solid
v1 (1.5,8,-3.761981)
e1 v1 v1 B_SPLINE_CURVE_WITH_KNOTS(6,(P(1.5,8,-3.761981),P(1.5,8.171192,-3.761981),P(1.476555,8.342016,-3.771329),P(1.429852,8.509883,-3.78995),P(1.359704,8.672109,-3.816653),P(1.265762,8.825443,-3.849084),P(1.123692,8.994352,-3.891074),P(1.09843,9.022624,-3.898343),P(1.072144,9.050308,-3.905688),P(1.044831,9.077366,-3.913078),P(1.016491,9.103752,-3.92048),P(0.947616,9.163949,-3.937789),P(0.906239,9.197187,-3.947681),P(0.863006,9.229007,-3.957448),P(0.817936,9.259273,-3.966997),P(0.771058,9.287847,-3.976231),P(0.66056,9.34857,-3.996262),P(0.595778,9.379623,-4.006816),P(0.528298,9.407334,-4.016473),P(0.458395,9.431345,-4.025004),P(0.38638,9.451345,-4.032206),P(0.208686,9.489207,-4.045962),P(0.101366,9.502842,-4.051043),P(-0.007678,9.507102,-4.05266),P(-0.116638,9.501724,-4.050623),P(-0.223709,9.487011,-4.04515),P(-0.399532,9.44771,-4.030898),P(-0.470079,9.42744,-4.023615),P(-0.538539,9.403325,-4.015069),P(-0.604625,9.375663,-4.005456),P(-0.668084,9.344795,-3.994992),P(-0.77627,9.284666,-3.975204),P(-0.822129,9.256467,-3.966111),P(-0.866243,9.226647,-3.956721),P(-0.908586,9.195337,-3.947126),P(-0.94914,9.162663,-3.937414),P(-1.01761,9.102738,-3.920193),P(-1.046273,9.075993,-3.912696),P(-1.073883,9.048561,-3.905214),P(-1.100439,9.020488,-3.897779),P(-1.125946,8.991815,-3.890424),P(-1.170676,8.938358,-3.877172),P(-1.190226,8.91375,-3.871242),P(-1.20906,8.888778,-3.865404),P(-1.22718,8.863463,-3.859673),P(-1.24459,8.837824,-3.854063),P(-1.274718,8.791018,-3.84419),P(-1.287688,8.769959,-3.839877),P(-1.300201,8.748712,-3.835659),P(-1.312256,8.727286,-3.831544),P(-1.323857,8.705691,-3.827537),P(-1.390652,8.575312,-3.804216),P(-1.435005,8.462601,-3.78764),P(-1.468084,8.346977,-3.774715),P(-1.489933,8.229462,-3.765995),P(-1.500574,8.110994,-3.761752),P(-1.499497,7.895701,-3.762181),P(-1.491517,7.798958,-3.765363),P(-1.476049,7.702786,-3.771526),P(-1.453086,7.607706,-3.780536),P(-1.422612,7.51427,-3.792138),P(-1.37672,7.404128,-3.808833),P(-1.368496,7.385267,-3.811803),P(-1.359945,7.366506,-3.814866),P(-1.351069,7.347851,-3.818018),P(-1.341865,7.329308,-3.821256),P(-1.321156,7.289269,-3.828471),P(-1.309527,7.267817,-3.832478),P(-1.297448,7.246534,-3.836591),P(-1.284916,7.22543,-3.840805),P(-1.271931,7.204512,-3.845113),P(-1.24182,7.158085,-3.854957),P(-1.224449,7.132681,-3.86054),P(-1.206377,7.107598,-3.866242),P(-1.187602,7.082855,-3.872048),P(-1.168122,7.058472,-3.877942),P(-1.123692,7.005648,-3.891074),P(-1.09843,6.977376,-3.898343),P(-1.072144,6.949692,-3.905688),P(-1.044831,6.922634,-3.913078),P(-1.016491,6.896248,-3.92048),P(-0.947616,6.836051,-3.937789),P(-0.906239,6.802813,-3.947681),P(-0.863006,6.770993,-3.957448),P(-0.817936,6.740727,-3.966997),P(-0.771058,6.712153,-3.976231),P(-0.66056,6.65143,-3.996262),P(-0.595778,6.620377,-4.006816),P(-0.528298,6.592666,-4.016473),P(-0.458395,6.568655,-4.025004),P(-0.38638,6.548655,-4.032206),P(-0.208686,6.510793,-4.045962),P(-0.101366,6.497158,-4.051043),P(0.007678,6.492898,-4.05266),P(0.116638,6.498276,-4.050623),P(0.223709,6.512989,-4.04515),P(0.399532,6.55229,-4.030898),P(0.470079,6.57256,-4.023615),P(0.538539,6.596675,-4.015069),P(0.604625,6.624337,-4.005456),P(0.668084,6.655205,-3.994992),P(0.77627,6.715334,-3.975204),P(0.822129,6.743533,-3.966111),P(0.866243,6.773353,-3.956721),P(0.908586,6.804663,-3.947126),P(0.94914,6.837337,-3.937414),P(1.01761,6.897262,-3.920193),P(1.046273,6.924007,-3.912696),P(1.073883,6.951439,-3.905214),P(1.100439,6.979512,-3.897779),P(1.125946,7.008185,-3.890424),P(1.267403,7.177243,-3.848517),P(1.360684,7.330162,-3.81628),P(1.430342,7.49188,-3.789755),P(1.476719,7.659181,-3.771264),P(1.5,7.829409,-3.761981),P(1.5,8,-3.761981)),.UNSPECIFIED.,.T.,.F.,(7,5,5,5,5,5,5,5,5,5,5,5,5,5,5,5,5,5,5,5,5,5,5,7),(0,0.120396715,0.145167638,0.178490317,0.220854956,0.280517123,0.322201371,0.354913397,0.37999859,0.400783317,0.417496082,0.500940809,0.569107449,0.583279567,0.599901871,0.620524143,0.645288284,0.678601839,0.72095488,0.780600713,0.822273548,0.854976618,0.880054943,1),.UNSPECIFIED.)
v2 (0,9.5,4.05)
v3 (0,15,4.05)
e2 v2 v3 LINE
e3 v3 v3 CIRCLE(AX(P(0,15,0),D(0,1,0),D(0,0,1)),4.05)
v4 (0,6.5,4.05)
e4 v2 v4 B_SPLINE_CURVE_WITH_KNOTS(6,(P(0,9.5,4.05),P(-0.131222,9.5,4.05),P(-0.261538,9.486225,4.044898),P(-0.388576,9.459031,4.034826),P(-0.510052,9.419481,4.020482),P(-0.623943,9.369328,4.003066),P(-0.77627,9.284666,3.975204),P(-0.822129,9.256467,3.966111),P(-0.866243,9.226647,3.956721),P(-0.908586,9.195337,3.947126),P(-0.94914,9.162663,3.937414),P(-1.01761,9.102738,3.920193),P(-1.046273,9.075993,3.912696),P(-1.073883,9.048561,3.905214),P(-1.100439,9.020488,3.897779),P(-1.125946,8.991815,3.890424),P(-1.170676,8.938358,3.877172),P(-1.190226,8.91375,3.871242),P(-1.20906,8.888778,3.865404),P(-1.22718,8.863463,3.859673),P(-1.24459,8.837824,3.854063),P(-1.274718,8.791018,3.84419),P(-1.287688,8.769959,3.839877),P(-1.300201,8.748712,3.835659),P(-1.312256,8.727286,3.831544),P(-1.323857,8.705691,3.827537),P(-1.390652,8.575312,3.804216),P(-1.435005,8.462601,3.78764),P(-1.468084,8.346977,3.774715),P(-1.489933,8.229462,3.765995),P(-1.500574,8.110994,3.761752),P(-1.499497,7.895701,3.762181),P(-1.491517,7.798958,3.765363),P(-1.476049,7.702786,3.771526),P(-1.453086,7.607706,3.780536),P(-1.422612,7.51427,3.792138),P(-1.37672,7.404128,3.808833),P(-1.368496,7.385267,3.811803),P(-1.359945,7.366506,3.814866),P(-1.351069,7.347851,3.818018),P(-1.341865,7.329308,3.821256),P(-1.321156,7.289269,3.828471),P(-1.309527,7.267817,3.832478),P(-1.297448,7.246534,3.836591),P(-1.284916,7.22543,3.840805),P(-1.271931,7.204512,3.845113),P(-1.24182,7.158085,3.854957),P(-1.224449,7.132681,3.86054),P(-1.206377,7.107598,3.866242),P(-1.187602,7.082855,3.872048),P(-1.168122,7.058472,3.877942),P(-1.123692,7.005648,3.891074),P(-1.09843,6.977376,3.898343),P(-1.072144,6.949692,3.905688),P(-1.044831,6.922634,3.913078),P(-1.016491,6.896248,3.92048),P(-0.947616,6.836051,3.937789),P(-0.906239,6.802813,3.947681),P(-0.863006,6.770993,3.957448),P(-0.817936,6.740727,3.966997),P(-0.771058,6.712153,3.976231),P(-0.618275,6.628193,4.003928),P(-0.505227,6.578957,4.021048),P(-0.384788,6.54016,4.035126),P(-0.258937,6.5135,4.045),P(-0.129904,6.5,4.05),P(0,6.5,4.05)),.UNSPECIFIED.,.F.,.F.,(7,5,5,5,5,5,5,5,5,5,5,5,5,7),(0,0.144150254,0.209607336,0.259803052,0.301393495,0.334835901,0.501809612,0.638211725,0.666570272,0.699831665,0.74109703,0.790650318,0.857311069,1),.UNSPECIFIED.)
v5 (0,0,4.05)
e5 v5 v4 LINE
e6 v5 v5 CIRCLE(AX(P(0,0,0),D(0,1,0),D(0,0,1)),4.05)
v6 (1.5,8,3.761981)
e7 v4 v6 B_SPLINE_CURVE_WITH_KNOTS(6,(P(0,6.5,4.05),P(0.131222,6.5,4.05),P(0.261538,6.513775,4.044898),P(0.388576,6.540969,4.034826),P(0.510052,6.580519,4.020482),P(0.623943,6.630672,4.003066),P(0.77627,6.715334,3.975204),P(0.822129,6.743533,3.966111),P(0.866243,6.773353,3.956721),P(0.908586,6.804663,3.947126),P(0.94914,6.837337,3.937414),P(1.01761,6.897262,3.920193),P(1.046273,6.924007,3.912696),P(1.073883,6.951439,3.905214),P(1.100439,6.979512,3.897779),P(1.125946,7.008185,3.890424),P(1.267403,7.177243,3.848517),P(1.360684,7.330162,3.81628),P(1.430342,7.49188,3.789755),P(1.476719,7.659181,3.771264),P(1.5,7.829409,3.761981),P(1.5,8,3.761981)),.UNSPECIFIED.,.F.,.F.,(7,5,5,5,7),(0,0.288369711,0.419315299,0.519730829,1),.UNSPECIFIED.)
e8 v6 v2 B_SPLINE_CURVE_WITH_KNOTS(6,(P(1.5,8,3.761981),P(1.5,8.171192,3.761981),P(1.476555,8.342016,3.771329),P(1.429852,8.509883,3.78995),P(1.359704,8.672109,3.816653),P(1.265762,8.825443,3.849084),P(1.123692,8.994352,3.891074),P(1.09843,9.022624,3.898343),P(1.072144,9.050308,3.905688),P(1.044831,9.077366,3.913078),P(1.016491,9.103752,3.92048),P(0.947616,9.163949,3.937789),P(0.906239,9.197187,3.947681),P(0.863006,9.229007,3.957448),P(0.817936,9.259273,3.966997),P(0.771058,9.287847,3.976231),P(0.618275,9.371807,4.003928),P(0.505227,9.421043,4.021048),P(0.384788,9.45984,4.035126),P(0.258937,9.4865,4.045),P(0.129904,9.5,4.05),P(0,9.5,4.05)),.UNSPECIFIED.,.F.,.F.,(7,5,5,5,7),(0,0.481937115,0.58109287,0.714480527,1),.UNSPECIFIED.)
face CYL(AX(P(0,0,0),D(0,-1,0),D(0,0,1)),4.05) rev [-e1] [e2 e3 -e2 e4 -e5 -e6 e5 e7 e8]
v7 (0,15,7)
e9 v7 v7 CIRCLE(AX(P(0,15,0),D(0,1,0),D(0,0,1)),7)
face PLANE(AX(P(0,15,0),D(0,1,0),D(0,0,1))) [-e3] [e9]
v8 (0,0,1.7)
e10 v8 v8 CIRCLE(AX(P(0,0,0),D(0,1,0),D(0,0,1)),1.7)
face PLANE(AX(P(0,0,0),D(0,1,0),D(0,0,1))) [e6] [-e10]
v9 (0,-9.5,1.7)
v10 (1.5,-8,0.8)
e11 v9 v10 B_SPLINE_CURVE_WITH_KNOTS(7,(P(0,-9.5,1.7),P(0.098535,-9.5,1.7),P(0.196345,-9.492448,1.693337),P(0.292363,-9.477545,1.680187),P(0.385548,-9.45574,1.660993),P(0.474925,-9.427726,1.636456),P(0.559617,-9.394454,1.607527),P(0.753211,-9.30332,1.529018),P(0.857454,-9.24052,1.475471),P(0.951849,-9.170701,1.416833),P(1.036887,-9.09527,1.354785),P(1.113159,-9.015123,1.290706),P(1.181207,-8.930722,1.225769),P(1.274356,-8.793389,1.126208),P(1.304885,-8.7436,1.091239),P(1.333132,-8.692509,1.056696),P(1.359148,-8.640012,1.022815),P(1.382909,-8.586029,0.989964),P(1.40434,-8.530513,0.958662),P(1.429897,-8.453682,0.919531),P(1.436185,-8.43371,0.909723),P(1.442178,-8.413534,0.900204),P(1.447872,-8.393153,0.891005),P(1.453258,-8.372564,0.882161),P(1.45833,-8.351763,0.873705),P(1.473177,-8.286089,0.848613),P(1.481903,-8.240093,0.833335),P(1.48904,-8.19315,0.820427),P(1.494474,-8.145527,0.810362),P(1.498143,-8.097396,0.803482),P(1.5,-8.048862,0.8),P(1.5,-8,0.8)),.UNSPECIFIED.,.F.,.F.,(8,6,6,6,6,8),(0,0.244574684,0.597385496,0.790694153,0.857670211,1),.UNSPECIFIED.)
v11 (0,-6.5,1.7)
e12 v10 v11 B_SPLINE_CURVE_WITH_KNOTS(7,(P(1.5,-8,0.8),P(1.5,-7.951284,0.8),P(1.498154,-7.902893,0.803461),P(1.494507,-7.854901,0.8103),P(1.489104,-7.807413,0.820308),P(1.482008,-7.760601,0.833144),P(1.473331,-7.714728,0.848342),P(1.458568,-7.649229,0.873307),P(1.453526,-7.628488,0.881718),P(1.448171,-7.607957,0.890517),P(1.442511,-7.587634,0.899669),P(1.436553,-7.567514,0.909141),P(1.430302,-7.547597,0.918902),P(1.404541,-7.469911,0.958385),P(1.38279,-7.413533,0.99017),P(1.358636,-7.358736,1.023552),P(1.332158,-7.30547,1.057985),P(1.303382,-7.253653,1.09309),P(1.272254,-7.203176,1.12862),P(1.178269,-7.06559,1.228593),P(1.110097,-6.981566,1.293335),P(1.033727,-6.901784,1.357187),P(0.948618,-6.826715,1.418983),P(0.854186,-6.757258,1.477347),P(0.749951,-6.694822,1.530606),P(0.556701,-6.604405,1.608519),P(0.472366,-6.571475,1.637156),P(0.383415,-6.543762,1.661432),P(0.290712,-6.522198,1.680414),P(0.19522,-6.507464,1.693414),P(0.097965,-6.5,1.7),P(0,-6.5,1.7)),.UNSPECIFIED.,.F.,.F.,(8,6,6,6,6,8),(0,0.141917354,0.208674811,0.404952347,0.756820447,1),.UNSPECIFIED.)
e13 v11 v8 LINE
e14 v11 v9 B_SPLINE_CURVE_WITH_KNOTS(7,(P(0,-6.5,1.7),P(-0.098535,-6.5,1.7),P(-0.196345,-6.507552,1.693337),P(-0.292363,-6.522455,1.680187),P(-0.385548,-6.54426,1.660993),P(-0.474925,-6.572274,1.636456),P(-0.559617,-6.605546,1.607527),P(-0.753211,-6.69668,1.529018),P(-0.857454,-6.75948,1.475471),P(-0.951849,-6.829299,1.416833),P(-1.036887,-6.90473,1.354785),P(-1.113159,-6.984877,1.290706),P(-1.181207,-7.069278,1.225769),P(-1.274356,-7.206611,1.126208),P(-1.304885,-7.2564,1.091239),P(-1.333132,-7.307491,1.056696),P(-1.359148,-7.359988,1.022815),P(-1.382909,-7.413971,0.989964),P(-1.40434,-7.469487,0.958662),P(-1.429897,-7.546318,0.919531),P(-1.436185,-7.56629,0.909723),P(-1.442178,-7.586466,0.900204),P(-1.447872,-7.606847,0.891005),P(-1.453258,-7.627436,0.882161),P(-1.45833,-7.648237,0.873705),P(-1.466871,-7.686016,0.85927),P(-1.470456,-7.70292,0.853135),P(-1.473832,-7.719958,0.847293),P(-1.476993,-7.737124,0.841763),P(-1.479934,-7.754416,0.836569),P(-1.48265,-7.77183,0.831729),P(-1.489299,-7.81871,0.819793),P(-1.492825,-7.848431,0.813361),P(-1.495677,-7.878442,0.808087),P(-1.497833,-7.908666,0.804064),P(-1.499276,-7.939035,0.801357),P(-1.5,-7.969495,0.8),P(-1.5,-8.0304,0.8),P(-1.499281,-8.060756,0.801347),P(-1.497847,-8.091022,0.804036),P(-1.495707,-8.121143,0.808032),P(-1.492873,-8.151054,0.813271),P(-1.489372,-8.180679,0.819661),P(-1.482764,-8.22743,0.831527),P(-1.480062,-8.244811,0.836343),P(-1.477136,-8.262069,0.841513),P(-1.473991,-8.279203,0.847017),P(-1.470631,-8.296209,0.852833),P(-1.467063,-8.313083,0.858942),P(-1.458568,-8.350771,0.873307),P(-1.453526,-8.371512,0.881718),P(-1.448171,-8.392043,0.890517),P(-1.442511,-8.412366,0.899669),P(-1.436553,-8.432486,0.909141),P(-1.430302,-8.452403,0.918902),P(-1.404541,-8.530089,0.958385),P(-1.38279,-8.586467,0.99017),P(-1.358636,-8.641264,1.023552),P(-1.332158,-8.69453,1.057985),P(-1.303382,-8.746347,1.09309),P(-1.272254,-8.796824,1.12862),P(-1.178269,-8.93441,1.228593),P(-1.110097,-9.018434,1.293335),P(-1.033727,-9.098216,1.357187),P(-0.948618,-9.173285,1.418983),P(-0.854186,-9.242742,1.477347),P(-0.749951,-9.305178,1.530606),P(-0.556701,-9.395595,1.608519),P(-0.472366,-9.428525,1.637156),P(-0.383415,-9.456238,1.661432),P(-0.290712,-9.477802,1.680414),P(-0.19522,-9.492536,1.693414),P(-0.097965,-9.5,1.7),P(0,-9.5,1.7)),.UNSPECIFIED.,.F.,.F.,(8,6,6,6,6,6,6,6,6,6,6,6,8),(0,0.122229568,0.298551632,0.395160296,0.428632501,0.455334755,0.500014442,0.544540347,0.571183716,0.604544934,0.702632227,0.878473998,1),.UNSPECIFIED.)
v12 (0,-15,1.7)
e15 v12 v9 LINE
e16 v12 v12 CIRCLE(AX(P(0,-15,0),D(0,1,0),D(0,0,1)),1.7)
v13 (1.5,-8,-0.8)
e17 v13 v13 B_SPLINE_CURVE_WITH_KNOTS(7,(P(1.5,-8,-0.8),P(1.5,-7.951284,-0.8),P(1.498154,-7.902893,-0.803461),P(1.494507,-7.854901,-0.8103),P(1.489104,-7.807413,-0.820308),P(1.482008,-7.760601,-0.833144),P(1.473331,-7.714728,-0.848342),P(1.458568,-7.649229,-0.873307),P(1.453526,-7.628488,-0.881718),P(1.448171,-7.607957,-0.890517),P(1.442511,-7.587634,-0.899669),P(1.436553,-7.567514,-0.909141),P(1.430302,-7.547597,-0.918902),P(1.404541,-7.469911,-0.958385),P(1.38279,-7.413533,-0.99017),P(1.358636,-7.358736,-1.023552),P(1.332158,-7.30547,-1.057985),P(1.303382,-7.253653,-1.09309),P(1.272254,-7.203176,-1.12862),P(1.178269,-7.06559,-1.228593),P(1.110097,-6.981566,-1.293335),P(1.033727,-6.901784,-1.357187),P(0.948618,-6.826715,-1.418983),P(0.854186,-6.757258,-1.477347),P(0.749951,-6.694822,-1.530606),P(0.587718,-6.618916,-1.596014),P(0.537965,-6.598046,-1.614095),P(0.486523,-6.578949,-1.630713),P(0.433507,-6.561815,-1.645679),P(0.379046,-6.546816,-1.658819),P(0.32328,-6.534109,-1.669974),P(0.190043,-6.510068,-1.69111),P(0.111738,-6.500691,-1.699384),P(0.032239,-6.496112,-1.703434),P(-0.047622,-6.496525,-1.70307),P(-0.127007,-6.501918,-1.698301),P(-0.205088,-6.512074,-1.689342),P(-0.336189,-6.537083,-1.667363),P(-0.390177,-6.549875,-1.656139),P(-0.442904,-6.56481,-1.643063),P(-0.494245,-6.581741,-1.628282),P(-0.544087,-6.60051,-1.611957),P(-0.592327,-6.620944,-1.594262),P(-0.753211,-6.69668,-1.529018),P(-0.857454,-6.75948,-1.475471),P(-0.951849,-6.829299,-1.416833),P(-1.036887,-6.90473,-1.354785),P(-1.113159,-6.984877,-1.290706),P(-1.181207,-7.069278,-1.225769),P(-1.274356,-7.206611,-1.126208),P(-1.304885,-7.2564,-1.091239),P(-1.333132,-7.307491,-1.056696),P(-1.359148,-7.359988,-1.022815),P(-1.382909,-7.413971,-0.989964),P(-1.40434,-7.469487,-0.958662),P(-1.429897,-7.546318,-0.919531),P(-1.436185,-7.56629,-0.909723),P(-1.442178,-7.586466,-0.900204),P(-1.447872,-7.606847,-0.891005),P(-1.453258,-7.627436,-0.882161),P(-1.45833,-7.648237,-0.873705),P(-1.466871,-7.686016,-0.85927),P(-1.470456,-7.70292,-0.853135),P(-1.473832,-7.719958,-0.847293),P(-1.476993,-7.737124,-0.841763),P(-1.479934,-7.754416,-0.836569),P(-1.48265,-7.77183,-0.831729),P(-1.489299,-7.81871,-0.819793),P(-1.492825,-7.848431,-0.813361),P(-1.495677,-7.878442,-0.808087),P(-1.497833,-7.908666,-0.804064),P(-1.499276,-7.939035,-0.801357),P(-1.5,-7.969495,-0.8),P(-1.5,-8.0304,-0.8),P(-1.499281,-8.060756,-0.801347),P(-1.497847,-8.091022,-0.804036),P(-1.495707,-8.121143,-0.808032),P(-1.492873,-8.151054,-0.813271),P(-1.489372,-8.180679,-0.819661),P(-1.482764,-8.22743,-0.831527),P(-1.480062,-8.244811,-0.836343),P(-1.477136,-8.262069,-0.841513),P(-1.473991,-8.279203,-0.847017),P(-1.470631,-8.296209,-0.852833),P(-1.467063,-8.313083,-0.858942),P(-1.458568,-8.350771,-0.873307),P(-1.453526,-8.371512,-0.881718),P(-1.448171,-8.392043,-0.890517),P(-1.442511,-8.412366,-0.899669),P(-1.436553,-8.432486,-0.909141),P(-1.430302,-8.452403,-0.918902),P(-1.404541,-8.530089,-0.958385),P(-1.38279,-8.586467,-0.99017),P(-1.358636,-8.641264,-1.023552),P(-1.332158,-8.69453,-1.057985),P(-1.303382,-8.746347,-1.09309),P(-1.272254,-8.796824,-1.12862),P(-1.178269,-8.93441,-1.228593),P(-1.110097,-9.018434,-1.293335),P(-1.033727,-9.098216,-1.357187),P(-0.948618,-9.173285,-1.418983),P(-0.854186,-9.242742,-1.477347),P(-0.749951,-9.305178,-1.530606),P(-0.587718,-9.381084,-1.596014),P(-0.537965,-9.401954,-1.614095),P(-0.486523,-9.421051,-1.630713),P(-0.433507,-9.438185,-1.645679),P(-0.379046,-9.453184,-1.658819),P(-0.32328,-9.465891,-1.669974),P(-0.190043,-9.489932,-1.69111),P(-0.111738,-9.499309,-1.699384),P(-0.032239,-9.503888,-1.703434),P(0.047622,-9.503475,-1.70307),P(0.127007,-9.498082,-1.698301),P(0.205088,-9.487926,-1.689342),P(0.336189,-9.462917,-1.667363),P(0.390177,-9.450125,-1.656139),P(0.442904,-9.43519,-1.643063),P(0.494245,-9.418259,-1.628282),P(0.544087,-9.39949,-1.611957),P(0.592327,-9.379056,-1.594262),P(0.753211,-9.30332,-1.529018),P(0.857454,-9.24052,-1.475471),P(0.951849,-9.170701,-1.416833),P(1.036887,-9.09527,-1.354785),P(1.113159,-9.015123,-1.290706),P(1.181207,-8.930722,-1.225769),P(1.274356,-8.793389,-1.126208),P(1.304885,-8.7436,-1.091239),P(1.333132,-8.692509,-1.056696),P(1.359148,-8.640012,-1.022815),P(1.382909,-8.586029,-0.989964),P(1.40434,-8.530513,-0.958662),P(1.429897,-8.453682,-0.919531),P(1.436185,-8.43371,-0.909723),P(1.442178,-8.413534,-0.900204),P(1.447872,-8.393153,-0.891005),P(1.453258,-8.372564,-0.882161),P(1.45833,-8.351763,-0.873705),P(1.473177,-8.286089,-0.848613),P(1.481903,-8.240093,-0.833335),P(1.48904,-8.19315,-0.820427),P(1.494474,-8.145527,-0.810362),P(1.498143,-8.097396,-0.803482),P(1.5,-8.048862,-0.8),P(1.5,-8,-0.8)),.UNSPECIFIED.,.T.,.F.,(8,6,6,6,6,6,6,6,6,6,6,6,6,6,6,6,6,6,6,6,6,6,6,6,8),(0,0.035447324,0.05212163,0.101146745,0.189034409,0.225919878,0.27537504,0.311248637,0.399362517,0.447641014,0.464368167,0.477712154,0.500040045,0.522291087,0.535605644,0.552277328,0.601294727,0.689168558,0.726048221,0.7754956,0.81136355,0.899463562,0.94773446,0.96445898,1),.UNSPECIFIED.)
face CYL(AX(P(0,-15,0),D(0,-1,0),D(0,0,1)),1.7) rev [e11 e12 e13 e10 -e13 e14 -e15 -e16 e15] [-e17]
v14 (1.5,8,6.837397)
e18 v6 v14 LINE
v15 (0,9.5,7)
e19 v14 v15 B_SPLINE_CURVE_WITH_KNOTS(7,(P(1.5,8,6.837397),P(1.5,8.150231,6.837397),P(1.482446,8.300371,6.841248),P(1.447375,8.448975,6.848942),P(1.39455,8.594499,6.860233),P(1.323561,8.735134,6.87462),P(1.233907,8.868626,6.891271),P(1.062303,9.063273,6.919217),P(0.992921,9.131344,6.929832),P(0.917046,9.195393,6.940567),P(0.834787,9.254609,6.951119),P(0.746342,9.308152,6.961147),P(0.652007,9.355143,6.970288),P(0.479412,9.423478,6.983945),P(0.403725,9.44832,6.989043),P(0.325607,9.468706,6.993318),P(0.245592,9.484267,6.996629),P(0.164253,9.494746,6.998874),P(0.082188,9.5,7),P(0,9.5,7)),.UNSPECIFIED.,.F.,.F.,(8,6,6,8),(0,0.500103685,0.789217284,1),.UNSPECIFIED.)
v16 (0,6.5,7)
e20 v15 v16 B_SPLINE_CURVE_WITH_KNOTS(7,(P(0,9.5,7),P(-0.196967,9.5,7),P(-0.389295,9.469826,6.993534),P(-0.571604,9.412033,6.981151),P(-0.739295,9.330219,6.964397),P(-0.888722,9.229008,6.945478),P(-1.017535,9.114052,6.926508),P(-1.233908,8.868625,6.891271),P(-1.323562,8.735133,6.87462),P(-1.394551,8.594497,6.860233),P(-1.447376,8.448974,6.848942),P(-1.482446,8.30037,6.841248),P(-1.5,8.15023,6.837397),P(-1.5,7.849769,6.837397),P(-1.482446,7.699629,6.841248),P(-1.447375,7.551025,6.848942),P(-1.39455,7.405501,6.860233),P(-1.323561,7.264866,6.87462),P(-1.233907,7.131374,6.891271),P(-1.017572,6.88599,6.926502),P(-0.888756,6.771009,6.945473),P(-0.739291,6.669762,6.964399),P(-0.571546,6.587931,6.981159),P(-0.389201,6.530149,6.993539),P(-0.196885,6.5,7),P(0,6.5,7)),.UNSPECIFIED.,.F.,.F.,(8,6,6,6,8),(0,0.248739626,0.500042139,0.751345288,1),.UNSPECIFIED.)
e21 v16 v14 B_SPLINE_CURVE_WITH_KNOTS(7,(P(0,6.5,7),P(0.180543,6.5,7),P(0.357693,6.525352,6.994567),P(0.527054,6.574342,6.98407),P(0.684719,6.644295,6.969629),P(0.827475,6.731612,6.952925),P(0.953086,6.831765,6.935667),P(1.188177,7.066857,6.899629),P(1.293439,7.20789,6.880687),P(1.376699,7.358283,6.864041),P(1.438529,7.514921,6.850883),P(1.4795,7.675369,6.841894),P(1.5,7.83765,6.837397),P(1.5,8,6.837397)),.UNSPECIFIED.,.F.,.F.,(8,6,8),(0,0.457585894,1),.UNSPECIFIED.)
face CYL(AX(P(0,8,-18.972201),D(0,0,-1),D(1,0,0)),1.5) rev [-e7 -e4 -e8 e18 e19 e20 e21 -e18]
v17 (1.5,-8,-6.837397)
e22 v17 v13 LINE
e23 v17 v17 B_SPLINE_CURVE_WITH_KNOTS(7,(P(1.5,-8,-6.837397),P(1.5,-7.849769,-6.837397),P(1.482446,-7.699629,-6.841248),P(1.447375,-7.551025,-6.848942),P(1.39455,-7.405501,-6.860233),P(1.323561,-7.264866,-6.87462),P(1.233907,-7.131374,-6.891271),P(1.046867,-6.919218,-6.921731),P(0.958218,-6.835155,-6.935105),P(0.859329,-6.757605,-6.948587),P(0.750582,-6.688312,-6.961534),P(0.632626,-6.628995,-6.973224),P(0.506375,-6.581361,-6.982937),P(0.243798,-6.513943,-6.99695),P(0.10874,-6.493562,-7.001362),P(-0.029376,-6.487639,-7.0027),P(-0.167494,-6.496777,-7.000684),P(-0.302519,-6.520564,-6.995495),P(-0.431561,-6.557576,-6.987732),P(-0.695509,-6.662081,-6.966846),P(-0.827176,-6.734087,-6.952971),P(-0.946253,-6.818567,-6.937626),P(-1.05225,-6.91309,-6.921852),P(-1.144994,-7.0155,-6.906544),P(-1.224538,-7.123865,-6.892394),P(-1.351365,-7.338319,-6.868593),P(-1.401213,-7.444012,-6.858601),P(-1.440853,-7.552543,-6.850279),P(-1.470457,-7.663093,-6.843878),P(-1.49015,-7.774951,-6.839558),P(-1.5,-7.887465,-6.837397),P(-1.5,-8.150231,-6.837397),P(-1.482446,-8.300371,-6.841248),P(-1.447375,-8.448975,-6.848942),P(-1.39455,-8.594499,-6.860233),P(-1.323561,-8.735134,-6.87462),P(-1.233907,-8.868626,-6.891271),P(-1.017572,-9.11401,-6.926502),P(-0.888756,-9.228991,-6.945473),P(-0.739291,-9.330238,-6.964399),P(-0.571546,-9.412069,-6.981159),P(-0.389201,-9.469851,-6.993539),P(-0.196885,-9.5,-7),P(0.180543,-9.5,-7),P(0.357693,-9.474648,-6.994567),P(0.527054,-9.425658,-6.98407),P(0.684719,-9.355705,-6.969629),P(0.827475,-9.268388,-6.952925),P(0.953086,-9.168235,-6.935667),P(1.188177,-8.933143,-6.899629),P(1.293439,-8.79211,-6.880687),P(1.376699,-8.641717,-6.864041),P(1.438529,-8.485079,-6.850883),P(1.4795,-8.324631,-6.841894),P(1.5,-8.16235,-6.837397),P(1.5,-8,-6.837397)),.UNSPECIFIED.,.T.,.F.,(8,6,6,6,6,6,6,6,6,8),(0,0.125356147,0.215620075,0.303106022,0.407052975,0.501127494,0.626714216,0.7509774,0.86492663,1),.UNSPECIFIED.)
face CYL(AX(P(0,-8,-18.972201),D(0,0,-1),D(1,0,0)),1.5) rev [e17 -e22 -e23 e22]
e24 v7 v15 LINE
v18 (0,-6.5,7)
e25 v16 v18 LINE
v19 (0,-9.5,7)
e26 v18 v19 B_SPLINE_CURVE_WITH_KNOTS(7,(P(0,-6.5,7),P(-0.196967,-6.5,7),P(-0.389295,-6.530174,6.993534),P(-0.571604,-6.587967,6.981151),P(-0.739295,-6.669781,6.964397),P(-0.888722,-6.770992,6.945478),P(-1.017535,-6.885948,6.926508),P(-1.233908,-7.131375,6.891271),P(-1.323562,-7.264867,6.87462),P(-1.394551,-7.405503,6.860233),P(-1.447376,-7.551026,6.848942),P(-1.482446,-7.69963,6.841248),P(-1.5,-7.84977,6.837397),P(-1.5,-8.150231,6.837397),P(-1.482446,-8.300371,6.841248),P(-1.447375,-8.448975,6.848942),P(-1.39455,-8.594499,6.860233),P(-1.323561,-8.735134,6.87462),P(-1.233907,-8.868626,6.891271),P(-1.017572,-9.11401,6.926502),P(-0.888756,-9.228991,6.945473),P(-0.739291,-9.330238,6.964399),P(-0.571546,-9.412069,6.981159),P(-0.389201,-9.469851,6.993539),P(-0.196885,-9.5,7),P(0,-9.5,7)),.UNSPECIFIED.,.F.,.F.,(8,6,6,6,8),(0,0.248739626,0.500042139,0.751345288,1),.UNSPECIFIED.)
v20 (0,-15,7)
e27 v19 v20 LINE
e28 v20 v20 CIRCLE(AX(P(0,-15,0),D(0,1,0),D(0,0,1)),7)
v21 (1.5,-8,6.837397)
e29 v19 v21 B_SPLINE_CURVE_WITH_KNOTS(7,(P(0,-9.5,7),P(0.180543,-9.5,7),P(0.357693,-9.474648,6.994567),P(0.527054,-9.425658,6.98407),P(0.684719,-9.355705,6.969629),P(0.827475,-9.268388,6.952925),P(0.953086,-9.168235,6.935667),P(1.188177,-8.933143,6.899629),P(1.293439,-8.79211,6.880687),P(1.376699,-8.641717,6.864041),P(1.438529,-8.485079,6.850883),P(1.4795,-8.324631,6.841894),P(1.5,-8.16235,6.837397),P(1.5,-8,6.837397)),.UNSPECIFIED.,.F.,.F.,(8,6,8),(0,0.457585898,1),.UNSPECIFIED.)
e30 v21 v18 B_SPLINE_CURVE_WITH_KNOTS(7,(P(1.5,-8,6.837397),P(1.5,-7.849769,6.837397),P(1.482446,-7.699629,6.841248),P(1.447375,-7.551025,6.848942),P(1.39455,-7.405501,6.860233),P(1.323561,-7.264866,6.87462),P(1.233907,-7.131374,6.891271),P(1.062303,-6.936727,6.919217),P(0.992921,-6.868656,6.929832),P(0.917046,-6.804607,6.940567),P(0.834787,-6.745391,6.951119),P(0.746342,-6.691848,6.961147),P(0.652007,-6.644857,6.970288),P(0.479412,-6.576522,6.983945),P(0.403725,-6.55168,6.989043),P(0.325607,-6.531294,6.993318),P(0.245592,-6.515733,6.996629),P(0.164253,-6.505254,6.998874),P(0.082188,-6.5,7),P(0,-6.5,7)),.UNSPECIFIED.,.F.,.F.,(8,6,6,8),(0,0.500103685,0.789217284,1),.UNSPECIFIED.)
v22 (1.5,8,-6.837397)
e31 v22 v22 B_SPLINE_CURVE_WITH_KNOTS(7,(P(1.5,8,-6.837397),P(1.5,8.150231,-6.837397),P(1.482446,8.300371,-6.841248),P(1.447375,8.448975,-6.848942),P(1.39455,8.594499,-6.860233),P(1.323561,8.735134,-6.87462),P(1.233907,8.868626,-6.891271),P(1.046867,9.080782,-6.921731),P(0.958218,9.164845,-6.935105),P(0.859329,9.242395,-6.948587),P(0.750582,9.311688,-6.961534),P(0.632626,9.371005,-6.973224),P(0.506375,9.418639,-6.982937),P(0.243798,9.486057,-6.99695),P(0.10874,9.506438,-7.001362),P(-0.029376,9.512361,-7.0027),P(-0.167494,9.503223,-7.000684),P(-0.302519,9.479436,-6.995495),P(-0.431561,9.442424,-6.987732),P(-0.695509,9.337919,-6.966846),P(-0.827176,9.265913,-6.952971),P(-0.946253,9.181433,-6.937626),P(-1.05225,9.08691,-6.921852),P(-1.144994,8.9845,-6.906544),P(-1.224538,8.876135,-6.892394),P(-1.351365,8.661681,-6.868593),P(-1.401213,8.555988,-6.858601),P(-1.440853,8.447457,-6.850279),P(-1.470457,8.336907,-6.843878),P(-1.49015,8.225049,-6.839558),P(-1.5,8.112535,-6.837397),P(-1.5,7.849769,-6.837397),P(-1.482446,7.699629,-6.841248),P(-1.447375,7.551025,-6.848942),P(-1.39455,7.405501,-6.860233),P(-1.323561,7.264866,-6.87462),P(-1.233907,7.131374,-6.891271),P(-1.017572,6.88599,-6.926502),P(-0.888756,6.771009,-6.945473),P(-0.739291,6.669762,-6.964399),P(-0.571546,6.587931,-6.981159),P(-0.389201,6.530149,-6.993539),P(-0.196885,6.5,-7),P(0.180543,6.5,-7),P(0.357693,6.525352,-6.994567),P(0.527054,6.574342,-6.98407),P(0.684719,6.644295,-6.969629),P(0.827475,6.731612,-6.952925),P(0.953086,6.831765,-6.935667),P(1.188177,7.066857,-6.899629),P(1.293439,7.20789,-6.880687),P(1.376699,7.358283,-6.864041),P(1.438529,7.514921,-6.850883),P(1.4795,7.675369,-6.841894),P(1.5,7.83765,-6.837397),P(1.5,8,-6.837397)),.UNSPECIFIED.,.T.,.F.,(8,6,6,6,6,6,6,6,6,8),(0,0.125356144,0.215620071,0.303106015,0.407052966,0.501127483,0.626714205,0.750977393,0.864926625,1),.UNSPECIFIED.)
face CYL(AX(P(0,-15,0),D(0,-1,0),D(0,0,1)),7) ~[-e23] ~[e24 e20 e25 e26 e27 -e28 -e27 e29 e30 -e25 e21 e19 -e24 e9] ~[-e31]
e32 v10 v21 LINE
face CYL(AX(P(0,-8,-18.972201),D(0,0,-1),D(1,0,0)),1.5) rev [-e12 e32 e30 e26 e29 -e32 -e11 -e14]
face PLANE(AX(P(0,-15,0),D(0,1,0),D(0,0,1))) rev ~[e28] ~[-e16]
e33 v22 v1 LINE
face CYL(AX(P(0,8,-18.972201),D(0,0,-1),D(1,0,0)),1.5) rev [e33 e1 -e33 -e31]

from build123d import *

# Parameters (mm, degrees)
SKETCH1_R               = 7
SKETCH1_R_2             = 4.05
BOSS_EXTRUDE1_DEPTH     = 15
BOSS_EXTRUDE2_START     = -15
SKETCH1_3_R             = 7
SKETCH1_3_R_2           = 1.7
BOSS_EXTRUDE2_DEPTH     = 15
CUT_EXTRUDE1_DEPTH      = 18.972200756
CUT_EXTRUDE1_DEPTH_BACK = 18.972200756
SKETCH2_R               = 1.5


with BuildPart() as part:
    # Sketch1 → Boss-Extrude1 (new body)
    with BuildSketch(Plane(origin=(0, 0, 0), x_dir=(1, 0, 0), z_dir=(0, 1, 0))):
        Circle(SKETCH1_R)
        Circle(SKETCH1_R_2, mode=Mode.SUBTRACT)
    extrude(amount=BOSS_EXTRUDE1_DEPTH)

    # Sketch1<3> → Boss-Extrude2 (add)
    with BuildSketch(Plane(origin=(0, 0, 0), x_dir=(1, 0, 0), z_dir=(0, 1, 0)).offset(BOSS_EXTRUDE2_START)):
        Circle(SKETCH1_3_R)
        Circle(SKETCH1_3_R_2, mode=Mode.SUBTRACT)
    extrude(amount=BOSS_EXTRUDE2_DEPTH)

    # Sketch2 → Cut-Extrude1 (cut, two sides: drawn at the far end of the back side and taken through both)
    with BuildSketch(Plane.XY.offset(-CUT_EXTRUDE1_DEPTH_BACK)):
        with Locations((0, 8)):
            Circle(SKETCH2_R)
        with Locations((0, -8)):
            Circle(SKETCH2_R)
    extrude(amount=CUT_EXTRUDE1_DEPTH + CUT_EXTRUDE1_DEPTH_BACK, mode=Mode.SUBTRACT)


solid = part.part
